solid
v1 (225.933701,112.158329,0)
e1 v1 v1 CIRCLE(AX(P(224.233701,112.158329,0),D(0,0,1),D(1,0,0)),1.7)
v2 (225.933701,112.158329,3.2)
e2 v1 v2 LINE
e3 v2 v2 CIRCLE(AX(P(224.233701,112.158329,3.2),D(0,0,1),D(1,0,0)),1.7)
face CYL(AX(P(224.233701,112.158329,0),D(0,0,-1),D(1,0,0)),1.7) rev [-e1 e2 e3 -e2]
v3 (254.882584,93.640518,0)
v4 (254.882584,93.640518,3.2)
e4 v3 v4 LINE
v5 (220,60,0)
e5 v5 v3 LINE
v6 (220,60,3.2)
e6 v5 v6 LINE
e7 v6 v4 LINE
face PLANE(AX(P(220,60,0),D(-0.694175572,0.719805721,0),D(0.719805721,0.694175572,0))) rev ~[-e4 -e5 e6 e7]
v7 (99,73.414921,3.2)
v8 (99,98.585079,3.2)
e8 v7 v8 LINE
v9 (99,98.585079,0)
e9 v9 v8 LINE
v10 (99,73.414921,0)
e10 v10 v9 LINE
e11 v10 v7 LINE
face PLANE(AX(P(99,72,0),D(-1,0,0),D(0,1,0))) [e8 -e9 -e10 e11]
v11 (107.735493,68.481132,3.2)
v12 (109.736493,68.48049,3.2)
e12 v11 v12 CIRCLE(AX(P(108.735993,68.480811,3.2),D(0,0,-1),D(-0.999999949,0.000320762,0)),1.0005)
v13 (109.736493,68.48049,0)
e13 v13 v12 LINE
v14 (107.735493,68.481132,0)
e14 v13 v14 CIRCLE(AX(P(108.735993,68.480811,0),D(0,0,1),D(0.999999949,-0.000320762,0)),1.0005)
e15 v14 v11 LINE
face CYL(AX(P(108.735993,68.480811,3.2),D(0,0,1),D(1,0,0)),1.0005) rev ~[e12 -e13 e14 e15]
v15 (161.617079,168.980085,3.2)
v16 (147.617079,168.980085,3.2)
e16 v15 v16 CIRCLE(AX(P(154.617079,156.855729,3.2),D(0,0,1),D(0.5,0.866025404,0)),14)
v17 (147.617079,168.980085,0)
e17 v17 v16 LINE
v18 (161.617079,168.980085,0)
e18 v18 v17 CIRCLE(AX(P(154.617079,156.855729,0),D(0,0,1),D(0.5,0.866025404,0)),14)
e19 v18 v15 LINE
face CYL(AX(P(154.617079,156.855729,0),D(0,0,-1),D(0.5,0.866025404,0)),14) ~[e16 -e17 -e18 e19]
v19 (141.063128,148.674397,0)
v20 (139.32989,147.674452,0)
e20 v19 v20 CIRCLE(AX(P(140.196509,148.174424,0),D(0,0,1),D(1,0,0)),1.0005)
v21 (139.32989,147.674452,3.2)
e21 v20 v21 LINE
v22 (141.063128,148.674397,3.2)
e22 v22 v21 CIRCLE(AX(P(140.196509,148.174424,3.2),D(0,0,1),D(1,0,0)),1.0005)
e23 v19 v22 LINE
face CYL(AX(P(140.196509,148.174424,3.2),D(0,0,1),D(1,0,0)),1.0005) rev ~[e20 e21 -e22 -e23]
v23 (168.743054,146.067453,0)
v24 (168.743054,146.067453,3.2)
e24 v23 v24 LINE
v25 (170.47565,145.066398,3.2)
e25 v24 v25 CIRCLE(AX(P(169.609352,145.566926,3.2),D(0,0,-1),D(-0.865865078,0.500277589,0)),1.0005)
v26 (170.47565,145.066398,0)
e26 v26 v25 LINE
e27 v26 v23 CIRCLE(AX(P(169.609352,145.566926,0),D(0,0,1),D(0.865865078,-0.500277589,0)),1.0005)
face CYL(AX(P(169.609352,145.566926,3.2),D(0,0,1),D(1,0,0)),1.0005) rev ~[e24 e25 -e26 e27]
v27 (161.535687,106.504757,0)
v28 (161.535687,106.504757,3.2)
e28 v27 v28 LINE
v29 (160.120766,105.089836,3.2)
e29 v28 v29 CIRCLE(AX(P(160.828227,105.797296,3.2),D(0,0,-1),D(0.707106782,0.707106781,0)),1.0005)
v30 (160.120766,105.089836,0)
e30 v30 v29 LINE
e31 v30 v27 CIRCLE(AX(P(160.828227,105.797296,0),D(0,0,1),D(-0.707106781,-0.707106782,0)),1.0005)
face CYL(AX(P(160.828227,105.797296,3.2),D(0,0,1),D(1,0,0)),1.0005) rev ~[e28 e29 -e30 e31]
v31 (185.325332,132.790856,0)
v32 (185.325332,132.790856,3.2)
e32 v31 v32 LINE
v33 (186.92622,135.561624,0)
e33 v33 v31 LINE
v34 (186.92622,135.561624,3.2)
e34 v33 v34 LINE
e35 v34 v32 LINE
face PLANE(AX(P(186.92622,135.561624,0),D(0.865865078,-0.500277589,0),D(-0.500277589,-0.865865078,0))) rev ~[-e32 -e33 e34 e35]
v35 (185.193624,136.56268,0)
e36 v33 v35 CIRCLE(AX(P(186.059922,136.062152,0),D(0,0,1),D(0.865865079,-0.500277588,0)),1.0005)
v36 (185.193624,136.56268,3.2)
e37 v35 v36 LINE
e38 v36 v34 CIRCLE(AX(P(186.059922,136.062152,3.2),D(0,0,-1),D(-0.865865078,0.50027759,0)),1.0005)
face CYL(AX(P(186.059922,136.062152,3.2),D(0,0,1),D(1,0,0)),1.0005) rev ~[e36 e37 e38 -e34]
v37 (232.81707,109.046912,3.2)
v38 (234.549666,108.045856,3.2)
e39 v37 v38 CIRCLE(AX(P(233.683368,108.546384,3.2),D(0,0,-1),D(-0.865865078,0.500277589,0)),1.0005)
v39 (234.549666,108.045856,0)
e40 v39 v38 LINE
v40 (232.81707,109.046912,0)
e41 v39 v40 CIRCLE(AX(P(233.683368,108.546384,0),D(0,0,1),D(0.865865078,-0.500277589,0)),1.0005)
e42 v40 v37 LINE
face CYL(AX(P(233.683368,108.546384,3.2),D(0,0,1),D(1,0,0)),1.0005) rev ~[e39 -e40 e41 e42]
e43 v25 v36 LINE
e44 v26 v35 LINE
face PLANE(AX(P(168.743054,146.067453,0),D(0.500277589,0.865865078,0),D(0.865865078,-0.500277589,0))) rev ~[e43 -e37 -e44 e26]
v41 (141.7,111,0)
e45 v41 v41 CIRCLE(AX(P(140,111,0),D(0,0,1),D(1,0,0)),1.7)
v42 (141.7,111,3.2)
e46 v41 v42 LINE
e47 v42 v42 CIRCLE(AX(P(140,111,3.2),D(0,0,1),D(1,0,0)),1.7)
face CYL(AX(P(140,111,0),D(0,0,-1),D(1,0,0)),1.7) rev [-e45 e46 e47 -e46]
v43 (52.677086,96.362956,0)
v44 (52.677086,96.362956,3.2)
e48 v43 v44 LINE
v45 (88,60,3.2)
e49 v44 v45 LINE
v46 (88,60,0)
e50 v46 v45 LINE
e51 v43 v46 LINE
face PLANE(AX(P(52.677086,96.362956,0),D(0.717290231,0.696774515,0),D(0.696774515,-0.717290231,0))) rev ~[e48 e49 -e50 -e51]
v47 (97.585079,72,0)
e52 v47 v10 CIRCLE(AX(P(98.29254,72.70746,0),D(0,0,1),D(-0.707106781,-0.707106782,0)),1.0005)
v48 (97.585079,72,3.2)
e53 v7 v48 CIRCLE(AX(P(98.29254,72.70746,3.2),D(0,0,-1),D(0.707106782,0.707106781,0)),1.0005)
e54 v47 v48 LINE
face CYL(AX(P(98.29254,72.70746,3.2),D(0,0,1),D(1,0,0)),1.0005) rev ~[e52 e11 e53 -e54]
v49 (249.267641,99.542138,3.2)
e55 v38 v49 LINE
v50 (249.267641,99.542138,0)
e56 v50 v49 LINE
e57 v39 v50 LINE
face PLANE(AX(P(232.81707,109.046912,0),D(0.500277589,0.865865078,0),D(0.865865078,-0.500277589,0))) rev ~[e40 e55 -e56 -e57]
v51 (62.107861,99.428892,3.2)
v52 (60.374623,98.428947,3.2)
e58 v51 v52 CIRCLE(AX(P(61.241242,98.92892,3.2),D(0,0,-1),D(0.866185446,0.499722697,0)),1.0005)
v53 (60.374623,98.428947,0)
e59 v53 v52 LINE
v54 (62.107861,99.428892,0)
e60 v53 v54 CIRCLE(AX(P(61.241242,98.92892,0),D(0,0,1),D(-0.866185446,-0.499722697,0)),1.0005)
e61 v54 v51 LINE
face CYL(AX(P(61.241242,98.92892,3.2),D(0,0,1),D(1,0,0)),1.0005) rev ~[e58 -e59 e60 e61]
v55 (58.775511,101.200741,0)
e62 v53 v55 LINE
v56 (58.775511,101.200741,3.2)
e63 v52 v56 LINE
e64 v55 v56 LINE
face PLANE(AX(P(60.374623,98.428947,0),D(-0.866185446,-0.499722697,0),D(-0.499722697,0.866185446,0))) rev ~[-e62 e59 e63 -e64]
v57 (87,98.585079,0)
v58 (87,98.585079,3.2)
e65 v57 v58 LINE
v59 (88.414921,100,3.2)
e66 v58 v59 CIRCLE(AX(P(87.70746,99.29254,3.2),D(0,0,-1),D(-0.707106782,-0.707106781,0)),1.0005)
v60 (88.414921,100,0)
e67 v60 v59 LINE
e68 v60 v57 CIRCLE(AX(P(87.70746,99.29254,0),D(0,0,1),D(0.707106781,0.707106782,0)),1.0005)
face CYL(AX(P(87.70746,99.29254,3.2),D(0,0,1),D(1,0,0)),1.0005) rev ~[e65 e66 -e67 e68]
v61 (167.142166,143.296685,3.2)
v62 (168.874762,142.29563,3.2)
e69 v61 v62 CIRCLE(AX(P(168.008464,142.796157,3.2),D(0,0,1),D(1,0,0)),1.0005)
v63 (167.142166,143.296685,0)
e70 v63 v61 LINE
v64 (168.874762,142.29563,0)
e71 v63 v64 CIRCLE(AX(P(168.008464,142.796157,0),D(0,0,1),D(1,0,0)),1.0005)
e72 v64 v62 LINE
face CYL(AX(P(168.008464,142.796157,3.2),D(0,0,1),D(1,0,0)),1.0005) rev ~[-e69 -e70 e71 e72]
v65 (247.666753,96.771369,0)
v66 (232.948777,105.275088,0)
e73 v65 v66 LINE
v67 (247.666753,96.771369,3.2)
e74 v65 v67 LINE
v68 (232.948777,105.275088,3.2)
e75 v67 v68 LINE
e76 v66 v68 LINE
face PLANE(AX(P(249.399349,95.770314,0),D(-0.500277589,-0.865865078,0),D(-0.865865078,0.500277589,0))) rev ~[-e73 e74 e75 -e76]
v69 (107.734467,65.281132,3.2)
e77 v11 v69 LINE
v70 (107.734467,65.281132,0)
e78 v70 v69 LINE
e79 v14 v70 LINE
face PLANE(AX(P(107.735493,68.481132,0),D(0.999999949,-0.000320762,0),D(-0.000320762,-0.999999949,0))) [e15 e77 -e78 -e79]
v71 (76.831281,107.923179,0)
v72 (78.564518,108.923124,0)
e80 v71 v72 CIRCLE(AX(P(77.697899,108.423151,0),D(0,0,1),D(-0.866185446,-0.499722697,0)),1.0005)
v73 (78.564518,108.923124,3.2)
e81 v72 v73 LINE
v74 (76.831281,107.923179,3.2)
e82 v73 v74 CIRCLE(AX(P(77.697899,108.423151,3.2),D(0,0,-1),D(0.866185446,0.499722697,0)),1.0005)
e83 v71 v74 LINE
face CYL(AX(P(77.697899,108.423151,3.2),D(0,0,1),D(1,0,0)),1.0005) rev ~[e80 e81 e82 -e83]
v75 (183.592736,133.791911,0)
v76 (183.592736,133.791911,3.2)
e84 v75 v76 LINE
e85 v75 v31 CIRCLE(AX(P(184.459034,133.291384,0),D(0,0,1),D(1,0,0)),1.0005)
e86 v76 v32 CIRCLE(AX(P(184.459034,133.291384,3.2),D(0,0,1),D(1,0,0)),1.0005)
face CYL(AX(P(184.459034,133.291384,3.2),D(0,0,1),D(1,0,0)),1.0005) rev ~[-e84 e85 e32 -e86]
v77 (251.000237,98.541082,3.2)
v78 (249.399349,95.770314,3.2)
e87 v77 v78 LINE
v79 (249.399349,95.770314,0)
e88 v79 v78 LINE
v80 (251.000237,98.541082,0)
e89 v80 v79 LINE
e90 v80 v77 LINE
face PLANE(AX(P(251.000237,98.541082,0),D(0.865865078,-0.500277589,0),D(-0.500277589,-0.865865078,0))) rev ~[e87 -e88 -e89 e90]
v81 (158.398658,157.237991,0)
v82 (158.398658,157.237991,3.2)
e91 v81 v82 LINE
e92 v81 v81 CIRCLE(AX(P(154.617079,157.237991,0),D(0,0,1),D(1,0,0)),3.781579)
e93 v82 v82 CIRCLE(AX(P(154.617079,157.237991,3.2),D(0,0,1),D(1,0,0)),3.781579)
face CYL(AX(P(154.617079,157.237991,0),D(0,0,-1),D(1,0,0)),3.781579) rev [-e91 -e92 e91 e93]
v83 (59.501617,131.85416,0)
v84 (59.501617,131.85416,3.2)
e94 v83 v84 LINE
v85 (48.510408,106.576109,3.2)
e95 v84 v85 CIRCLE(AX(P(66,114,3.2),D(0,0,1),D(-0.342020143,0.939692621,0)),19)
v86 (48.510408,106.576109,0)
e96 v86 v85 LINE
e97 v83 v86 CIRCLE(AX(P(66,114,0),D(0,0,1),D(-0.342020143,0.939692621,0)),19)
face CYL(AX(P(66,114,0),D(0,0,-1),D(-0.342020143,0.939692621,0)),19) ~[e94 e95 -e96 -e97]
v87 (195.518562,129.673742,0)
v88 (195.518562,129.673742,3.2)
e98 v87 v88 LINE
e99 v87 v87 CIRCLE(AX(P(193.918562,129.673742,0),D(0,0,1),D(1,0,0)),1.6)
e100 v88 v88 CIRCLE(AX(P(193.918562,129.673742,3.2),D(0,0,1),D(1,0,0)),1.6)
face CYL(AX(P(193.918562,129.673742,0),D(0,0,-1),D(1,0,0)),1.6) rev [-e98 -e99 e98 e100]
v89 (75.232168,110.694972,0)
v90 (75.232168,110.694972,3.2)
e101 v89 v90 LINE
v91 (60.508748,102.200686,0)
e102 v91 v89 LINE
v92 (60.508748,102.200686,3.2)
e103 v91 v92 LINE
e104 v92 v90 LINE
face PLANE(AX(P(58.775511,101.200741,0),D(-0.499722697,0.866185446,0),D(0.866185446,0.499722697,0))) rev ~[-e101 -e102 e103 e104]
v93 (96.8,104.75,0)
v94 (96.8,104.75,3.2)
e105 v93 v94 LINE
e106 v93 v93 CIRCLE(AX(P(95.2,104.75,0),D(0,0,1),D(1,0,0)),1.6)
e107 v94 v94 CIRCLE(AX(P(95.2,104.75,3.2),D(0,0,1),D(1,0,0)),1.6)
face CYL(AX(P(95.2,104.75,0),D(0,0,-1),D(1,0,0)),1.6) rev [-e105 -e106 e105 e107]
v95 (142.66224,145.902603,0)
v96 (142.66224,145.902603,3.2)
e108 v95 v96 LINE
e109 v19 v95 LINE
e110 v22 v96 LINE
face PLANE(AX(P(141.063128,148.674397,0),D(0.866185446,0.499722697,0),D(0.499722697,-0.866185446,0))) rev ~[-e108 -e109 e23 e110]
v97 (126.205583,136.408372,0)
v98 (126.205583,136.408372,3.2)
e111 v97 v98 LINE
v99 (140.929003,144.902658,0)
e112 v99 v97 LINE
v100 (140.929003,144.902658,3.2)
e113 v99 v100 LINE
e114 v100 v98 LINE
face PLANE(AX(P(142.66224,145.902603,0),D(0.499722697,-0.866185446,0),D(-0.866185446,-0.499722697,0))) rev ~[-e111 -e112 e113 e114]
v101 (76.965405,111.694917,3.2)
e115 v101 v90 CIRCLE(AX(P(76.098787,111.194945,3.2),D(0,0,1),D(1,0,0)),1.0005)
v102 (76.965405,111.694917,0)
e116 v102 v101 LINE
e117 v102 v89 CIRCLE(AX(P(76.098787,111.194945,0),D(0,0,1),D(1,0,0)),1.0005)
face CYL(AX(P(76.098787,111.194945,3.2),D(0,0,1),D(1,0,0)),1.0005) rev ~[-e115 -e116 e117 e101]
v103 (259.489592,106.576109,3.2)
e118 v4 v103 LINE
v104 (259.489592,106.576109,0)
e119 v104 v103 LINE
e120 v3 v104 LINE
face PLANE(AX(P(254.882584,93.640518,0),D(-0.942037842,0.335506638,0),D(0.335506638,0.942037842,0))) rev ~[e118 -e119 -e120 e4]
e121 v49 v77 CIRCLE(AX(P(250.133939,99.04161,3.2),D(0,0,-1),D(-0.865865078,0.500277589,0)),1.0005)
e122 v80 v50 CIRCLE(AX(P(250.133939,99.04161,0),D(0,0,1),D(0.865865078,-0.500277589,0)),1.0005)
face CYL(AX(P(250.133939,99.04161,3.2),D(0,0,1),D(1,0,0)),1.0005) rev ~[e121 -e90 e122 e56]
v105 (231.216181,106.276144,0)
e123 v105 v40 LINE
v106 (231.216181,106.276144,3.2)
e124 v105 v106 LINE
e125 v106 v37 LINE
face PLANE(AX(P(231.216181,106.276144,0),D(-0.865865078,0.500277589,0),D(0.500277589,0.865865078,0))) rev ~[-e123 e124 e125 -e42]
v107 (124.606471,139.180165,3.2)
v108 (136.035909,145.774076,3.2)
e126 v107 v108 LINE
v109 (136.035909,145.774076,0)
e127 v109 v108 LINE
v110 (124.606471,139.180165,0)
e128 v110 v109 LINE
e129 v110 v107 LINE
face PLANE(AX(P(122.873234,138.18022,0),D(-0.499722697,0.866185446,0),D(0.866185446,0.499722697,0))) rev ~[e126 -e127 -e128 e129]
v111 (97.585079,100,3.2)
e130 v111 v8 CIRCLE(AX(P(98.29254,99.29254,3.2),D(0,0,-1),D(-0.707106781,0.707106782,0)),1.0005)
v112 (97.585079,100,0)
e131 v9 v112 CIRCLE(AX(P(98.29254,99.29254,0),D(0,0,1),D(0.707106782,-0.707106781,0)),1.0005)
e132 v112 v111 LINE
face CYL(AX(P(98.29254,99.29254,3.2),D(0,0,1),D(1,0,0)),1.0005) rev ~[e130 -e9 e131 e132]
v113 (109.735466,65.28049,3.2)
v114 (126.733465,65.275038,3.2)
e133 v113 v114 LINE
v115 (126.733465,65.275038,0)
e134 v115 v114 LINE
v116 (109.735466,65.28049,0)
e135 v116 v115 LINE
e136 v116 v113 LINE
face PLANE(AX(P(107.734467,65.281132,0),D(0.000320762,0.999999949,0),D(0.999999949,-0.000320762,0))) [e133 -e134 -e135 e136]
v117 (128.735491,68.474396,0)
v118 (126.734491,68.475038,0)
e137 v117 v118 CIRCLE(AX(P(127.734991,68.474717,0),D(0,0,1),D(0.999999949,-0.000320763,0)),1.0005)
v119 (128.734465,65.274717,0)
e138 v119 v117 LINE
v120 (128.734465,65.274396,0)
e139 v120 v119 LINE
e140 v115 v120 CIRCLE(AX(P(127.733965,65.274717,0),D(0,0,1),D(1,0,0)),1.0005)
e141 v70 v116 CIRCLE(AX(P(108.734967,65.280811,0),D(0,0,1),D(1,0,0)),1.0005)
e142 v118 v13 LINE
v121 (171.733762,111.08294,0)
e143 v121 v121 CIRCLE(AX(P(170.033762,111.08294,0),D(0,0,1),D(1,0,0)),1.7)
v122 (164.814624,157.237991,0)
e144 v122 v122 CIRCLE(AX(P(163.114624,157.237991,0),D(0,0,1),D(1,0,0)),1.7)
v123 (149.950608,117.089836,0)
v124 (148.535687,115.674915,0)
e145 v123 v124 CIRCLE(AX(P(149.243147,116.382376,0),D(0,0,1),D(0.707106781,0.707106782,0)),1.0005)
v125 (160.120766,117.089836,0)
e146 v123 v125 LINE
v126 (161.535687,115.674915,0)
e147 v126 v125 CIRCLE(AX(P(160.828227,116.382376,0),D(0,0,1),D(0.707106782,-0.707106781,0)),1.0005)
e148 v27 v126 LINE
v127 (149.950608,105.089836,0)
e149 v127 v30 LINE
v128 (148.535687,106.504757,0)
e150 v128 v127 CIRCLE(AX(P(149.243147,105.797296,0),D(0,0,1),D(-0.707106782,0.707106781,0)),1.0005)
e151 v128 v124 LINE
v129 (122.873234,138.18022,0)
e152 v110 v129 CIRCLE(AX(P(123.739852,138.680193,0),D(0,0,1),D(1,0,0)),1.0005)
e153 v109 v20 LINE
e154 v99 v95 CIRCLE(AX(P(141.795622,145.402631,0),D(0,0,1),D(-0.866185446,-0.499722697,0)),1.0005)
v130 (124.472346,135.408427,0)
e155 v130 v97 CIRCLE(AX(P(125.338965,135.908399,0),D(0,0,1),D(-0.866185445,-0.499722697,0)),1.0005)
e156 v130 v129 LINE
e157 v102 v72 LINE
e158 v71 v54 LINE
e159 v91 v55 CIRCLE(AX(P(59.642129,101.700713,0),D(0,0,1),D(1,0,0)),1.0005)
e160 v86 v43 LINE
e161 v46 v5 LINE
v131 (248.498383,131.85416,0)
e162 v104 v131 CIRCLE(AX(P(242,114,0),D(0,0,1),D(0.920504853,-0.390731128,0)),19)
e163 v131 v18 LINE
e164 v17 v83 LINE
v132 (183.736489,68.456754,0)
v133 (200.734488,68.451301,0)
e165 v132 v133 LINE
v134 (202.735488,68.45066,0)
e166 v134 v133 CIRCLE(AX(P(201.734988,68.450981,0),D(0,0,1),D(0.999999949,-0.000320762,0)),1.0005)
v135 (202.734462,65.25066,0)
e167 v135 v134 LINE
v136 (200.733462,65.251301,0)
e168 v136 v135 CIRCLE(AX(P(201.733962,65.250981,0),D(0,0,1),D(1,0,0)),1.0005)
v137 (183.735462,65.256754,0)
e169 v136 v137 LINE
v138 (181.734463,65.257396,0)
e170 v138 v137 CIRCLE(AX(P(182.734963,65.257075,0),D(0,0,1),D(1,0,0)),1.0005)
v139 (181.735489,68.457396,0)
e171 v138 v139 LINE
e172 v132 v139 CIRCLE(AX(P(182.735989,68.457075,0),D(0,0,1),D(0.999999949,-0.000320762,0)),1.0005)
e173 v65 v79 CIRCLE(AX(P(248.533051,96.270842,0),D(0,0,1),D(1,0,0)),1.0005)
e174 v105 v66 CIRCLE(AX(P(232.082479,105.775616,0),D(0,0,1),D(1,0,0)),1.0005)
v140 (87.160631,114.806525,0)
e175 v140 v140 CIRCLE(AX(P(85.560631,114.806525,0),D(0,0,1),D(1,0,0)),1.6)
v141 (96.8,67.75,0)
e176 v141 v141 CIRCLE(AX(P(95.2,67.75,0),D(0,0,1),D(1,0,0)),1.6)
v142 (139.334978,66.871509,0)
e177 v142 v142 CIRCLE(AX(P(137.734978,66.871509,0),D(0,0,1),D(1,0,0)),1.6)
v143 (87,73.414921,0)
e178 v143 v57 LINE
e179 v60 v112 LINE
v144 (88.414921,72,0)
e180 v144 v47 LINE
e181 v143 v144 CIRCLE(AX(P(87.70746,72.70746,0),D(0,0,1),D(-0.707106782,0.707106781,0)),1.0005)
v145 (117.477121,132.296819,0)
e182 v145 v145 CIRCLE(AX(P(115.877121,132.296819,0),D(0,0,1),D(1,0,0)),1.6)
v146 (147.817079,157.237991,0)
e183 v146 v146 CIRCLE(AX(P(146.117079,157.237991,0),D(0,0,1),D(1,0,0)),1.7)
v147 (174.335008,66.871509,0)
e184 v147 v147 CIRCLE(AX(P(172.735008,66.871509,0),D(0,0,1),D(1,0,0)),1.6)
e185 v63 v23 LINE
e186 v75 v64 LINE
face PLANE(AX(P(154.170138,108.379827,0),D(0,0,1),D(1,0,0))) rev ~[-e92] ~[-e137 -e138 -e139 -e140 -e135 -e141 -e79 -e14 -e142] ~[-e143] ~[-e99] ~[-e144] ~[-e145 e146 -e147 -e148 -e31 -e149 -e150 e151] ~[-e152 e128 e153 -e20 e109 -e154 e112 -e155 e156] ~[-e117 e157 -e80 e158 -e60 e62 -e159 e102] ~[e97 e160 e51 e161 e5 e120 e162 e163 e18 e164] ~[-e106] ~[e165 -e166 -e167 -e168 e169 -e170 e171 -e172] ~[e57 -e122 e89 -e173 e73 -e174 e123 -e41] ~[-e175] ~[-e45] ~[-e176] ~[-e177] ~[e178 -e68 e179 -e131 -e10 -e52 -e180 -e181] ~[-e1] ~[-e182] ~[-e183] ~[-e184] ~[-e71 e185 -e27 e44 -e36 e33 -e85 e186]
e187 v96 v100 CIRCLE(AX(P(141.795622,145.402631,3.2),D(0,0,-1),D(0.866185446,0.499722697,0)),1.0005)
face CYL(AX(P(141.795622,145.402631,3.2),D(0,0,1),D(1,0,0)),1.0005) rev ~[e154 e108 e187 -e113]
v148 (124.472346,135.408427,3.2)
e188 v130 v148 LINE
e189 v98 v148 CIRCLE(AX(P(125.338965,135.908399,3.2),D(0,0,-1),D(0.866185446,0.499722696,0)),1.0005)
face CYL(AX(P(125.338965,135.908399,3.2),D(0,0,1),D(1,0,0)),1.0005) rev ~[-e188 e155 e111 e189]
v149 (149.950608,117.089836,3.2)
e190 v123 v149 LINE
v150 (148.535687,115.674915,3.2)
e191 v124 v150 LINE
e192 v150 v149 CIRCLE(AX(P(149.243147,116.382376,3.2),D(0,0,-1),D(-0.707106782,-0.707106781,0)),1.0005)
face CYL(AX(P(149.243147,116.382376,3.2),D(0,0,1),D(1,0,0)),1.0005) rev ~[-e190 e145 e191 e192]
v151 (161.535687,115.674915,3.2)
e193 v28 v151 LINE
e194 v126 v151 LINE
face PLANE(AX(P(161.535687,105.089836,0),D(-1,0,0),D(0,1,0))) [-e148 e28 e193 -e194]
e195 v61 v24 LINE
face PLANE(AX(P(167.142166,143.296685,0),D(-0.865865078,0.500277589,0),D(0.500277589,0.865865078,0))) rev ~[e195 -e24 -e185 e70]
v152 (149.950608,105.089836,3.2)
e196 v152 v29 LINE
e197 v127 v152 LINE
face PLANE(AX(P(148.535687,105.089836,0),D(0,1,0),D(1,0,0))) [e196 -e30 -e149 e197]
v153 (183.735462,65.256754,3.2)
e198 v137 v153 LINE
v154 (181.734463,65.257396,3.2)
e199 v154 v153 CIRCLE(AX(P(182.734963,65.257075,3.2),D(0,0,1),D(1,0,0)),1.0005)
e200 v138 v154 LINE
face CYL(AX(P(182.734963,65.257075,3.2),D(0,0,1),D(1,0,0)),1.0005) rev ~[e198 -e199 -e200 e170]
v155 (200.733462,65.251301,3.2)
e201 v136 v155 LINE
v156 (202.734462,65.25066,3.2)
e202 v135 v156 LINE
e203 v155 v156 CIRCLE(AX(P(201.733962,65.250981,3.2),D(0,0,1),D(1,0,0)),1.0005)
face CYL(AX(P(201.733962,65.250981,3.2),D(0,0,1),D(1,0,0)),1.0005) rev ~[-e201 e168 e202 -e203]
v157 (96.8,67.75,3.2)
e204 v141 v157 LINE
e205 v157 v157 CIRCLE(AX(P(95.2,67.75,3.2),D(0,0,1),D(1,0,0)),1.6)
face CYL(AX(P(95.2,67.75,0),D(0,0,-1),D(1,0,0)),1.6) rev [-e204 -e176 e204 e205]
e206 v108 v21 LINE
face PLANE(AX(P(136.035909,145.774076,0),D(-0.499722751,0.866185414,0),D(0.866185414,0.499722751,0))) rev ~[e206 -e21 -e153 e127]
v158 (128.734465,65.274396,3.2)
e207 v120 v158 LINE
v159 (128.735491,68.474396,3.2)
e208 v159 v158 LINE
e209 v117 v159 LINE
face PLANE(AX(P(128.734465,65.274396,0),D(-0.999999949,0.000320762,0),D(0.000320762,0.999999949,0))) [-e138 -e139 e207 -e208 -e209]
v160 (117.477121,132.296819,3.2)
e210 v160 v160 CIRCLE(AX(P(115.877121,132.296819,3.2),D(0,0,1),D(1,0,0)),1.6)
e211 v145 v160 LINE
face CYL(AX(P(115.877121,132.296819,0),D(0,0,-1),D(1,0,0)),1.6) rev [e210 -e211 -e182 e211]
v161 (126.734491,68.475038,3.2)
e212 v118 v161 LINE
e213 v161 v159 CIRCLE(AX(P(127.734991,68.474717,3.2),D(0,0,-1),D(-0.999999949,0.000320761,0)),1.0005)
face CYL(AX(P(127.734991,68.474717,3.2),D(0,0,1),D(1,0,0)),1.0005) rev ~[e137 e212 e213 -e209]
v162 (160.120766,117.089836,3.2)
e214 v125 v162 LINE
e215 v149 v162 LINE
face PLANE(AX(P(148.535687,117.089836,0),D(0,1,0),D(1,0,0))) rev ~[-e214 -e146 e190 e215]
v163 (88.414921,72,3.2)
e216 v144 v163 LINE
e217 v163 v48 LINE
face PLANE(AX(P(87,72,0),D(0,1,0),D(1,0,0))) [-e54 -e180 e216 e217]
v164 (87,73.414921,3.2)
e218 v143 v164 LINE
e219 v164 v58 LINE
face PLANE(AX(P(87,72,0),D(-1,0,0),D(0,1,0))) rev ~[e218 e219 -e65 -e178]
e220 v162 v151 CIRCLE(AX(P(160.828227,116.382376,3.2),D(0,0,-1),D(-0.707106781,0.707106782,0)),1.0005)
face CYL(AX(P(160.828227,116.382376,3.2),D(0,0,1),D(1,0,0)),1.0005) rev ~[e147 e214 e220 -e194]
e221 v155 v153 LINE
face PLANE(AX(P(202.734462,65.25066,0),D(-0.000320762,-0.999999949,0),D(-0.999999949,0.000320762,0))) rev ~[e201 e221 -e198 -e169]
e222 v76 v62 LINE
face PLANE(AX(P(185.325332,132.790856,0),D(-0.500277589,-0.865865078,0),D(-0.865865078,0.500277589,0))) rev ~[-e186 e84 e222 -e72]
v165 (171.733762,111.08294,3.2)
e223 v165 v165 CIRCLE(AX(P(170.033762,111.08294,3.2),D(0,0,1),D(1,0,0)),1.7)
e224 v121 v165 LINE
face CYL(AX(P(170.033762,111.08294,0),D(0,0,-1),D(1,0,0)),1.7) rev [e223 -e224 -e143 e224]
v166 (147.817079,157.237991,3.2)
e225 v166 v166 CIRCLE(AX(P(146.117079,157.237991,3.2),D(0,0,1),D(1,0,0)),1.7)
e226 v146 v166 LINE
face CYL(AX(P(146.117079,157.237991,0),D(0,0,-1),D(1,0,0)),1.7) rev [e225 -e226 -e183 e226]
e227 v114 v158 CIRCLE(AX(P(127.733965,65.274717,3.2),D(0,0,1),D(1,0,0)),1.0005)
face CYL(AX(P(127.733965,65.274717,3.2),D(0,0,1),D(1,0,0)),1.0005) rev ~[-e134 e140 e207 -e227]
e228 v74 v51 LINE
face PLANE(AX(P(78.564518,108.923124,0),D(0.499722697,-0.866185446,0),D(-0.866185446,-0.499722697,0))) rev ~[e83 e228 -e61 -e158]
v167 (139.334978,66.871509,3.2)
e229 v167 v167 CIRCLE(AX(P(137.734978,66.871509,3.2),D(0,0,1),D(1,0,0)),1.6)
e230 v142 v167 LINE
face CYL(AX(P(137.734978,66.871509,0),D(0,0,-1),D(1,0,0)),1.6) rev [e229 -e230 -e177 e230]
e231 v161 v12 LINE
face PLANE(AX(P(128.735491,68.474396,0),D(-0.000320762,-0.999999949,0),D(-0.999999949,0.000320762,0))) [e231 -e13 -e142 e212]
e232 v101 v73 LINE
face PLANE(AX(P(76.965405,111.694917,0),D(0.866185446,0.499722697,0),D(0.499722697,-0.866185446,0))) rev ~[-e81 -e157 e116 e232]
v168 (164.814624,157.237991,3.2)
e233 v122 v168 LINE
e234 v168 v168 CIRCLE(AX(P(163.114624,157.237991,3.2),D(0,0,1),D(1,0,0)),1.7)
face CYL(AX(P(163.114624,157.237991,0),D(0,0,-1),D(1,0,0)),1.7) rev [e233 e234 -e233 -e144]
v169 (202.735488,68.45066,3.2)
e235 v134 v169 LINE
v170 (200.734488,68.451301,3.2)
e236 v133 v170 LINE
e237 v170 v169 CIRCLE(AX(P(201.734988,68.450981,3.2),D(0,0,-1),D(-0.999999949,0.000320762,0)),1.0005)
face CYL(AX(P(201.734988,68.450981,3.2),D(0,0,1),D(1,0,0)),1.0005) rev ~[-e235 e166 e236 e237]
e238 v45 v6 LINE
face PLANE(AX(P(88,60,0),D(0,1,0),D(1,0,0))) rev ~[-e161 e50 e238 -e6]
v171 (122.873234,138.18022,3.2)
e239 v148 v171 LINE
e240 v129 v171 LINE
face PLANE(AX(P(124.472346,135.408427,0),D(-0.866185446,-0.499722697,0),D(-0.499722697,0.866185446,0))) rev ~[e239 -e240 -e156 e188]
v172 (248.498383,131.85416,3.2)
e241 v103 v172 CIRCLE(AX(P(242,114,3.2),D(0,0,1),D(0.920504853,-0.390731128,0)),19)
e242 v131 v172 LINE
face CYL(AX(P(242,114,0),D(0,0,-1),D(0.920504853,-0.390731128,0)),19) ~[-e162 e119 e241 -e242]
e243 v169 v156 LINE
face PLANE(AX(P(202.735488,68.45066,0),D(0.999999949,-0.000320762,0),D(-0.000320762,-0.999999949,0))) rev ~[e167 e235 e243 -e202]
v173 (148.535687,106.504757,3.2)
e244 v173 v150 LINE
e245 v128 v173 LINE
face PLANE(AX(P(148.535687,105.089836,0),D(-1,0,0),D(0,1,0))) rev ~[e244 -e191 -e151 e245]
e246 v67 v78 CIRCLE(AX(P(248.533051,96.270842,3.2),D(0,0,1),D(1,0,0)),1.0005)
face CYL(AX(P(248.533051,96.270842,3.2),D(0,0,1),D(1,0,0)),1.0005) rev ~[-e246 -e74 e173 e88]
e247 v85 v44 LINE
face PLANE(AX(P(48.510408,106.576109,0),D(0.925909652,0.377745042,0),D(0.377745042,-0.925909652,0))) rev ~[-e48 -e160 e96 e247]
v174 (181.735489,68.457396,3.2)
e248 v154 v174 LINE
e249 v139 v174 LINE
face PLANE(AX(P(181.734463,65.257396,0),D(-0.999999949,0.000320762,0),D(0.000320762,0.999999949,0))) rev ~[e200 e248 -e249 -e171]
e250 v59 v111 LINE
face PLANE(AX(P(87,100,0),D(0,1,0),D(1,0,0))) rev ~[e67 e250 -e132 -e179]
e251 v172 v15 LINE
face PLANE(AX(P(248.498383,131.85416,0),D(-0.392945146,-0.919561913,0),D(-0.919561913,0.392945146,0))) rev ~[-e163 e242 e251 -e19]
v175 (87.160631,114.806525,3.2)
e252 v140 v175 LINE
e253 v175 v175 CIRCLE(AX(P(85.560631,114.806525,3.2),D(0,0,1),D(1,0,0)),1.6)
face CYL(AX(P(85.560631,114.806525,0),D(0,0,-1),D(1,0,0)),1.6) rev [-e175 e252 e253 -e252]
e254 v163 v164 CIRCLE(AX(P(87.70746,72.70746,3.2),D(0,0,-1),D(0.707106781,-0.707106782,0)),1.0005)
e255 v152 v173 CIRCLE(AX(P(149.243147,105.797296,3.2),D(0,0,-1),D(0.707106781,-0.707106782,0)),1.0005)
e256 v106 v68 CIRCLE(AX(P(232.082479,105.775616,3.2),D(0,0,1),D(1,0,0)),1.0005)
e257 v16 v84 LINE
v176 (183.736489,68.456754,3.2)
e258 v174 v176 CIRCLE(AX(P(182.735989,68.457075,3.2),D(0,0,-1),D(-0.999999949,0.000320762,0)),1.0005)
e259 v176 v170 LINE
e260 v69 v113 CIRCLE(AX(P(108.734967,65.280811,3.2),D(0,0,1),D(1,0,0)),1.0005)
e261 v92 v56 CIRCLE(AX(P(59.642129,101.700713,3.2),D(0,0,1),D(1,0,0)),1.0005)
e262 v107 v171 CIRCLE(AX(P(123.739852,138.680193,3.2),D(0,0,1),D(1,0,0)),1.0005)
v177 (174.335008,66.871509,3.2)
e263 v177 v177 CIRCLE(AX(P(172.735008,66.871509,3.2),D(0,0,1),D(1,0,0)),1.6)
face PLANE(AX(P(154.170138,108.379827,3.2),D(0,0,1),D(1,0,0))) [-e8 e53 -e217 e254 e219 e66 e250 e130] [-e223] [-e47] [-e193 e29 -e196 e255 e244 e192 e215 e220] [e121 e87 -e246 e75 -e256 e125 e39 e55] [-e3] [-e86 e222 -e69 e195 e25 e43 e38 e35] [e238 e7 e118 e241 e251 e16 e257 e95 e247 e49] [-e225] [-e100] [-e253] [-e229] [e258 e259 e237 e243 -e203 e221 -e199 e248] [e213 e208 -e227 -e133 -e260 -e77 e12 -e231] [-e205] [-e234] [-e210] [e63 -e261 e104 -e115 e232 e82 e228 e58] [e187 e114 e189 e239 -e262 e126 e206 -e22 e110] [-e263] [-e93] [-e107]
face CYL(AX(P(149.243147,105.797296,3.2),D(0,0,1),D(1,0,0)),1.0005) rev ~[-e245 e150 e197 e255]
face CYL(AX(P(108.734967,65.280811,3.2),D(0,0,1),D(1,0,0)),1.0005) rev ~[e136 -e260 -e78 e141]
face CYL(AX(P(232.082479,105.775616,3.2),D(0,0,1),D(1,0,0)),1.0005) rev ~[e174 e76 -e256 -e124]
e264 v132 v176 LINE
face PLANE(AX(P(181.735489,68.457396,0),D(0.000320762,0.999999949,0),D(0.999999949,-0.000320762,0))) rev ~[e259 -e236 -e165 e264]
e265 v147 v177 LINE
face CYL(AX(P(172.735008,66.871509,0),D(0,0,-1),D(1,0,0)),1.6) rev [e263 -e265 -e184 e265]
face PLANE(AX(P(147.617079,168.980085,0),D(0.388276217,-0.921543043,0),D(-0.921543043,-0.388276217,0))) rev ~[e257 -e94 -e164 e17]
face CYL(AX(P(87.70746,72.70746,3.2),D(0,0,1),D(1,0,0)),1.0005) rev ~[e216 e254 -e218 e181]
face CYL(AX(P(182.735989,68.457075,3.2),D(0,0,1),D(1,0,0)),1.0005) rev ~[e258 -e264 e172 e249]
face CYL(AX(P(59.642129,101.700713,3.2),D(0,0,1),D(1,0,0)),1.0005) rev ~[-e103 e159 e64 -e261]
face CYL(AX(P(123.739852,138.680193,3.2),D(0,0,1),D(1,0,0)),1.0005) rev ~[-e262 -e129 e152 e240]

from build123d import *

# Parameters (mm, degrees)
MODEL_R             = 3.781579339
MODEL_R_2           = 1.7
MODEL_R_3           = 1.6
MODEL_W             = 12
MODEL_H             = 28
MODEL_W_2           = 13
MODEL_H_2           = 12
BOSS_EXTRUDE2_DEPTH = 3.2
SKETCH1_R           = 1.0005
CUT_EXTRUDE1_DEPTH  = 312.966216485


with BuildPart() as part:
    # Model → Boss-Extrude2 (new body)
    with BuildSketch(Plane.XY):
        with BuildLine():
            Line((88, 60), (220, 60))
            Line((220, 60), (254.882583618, 93.640518188))
            Line((254.882583618, 93.640518188), (259.489592216, 106.576108559))
            ThreePointArc((259.489592216, 106.576108559), (259.424141413, 121.57623231), (248.498382723, 131.854159795))
            Line((248.498382723, 131.854159795), (161.617078665, 168.980084934))
            ThreePointArc((161.617078665, 168.980084934), (154.617078665, 170.855729281), (147.617078665, 168.980084934))
            Line((147.617078665, 168.980084934), (59.501617277, 131.854159795))
            ThreePointArc((59.501617277, 131.854159795), (48.575858587, 121.57623231), (48.510407784, 106.576108559))
            Line((48.510407784, 106.576108559), (52.677086204, 96.362955936))
            Line((52.677086204, 96.362955936), (88, 60))
        make_face()
        with Locations((154.617078665, 157.237991333)):
            Circle(MODEL_R, mode=Mode.SUBTRACT)
        with Locations((163.114624023, 157.237991333)):
            Circle(MODEL_R_2, mode=Mode.SUBTRACT)
        with Locations((146.117078665, 157.237991333)):
            Circle(MODEL_R_2, mode=Mode.SUBTRACT)
        with Locations((115.877120948, 132.296819167)):
            Circle(MODEL_R_3, mode=Mode.SUBTRACT)
        with Locations((137.734977924, 66.871509225)):
            Circle(MODEL_R_3, mode=Mode.SUBTRACT)
        with Locations((193.918561918, 129.673741782)):
            Circle(MODEL_R_3, mode=Mode.SUBTRACT)
        with Locations((172.735008, 66.871509225)):
            Circle(MODEL_R_3, mode=Mode.SUBTRACT)
        with Locations((170.033762, 111.08294)):
            Circle(MODEL_R_2, mode=Mode.SUBTRACT)
        with Locations((140, 111)):
            Circle(MODEL_R_2, mode=Mode.SUBTRACT)
        with Locations((95.2, 104.75)):
            Circle(MODEL_R_3, mode=Mode.SUBTRACT)
        with Locations((85.560630532, 114.806524888)):
            Circle(MODEL_R_3, mode=Mode.SUBTRACT)
        with Locations((224.233700932, 112.158328537)):
            Circle(MODEL_R_2, mode=Mode.SUBTRACT)
        with Locations((95.2, 67.75)):
            Circle(MODEL_R_3, mode=Mode.SUBTRACT)
        with Locations((93, 86)):
            Rectangle(MODEL_W, MODEL_H, mode=Mode.SUBTRACT)
        Polygon((181.734462562, 65.257395619), (181.735489, 68.457395619), (202.735488, 68.450659619), (202.734461562, 65.250659619), align=None, mode=Mode.SUBTRACT)
        Polygon((249.399348556, 95.770313962), (231.216181373, 106.276143646), (232.817069658, 109.046911896), (251.000236841, 98.541082213), align=None, mode=Mode.SUBTRACT)
        Polygon((60.374623433, 98.42894725), (58.775510803, 101.200740676), (76.965405371, 111.694917426), (78.564518, 108.923124), align=None, mode=Mode.SUBTRACT)
        Polygon((128.734464562, 65.274396), (128.735491, 68.474396), (107.735493, 68.481132), (107.734466562, 65.281132), align=None, mode=Mode.SUBTRACT)
        Polygon((142.66224045, 145.902603249), (124.4723462, 135.408426681), (122.873233571, 138.180220108), (136.035908619, 145.774076024), (141.063127638, 148.674396991), align=None, mode=Mode.SUBTRACT)
        Polygon((167.142166, 143.296685), (168.743054285, 146.067453251), (186.926220285, 135.561624251), (185.325332, 132.790856), align=None, mode=Mode.SUBTRACT)
        with Locations((155.035687, 111.089836)):
            Rectangle(MODEL_W_2, MODEL_H_2, mode=Mode.SUBTRACT)
    extrude(amount=BOSS_EXTRUDE2_DEPTH)

    # Sketch1 → Cut-Extrude1 (cut, through all)
    with BuildSketch(Plane.XY.offset(3.2)):
        with Locations((61.241241971, 98.928919808)):
            Circle(SKETCH1_R)
        with Locations((59.642129342, 101.700713234)):
            Circle(SKETCH1_R)
        with Locations((76.098786832, 111.194944868)):
            Circle(SKETCH1_R)
        with Locations((77.697899462, 108.423151442)):
            Circle(SKETCH1_R)
        with Locations((87.707460335, 99.292539665)):
            Circle(SKETCH1_R)
        with Locations((98.292539665, 99.292539665)):
            Circle(SKETCH1_R)
        with Locations((87.707460335, 72.707460335)):
            Circle(SKETCH1_R)
        with Locations((98.292539665, 72.707460335)):
            Circle(SKETCH1_R)
        with Locations((108.735992948, 68.480811078)):
            Circle(SKETCH1_R)
        with Locations((108.73496651, 65.280811078)):
            Circle(SKETCH1_R)
        with Locations((127.733964613, 65.274716923)):
            Circle(SKETCH1_R)
        with Locations((127.734991051, 68.474716923)):
            Circle(SKETCH1_R)
        with Locations((182.73496251, 65.257074697)):
            Circle(SKETCH1_R)
        with Locations((182.735988949, 68.457074697)):
            Circle(SKETCH1_R)
        with Locations((201.734988051, 68.450980541)):
            Circle(SKETCH1_R)
        with Locations((201.733961613, 65.250980541)):
            Circle(SKETCH1_R)
        with Locations((232.082479384, 105.775615918)):
            Circle(SKETCH1_R)
        with Locations((233.683367669, 108.546384168)):
            Circle(SKETCH1_R)
        with Locations((250.13393883, 99.041609941)):
            Circle(SKETCH1_R)
        with Locations((248.533050545, 96.27084169)):
            Circle(SKETCH1_R)
        with Locations((160.828226665, 105.797296335)):
            Circle(SKETCH1_R)
        with Locations((160.828226665, 116.382375665)):
            Circle(SKETCH1_R)
        with Locations((149.243147335, 105.797296335)):
            Circle(SKETCH1_R)
        with Locations((149.243147335, 116.382375665)):
            Circle(SKETCH1_R)
        with Locations((168.008464011, 142.796157272)):
            Circle(SKETCH1_R)
        with Locations((169.609352296, 145.566925523)):
            Circle(SKETCH1_R)
        with Locations((184.459033989, 133.291383728)):
            Circle(SKETCH1_R)
        with Locations((186.059922274, 136.062151978)):
            Circle(SKETCH1_R)
        with Locations((141.795621912, 145.402630691)):
            Circle(SKETCH1_R)
        with Locations((140.196509099, 148.174424012)):
            Circle(SKETCH1_R)
        with Locations((123.739852109, 138.680192666)):
            Circle(SKETCH1_R)
        with Locations((125.338964739, 135.90839924)):
            Circle(SKETCH1_R)
    extrude(amount=-CUT_EXTRUDE1_DEPTH, mode=Mode.SUBTRACT)


solid = part.part
